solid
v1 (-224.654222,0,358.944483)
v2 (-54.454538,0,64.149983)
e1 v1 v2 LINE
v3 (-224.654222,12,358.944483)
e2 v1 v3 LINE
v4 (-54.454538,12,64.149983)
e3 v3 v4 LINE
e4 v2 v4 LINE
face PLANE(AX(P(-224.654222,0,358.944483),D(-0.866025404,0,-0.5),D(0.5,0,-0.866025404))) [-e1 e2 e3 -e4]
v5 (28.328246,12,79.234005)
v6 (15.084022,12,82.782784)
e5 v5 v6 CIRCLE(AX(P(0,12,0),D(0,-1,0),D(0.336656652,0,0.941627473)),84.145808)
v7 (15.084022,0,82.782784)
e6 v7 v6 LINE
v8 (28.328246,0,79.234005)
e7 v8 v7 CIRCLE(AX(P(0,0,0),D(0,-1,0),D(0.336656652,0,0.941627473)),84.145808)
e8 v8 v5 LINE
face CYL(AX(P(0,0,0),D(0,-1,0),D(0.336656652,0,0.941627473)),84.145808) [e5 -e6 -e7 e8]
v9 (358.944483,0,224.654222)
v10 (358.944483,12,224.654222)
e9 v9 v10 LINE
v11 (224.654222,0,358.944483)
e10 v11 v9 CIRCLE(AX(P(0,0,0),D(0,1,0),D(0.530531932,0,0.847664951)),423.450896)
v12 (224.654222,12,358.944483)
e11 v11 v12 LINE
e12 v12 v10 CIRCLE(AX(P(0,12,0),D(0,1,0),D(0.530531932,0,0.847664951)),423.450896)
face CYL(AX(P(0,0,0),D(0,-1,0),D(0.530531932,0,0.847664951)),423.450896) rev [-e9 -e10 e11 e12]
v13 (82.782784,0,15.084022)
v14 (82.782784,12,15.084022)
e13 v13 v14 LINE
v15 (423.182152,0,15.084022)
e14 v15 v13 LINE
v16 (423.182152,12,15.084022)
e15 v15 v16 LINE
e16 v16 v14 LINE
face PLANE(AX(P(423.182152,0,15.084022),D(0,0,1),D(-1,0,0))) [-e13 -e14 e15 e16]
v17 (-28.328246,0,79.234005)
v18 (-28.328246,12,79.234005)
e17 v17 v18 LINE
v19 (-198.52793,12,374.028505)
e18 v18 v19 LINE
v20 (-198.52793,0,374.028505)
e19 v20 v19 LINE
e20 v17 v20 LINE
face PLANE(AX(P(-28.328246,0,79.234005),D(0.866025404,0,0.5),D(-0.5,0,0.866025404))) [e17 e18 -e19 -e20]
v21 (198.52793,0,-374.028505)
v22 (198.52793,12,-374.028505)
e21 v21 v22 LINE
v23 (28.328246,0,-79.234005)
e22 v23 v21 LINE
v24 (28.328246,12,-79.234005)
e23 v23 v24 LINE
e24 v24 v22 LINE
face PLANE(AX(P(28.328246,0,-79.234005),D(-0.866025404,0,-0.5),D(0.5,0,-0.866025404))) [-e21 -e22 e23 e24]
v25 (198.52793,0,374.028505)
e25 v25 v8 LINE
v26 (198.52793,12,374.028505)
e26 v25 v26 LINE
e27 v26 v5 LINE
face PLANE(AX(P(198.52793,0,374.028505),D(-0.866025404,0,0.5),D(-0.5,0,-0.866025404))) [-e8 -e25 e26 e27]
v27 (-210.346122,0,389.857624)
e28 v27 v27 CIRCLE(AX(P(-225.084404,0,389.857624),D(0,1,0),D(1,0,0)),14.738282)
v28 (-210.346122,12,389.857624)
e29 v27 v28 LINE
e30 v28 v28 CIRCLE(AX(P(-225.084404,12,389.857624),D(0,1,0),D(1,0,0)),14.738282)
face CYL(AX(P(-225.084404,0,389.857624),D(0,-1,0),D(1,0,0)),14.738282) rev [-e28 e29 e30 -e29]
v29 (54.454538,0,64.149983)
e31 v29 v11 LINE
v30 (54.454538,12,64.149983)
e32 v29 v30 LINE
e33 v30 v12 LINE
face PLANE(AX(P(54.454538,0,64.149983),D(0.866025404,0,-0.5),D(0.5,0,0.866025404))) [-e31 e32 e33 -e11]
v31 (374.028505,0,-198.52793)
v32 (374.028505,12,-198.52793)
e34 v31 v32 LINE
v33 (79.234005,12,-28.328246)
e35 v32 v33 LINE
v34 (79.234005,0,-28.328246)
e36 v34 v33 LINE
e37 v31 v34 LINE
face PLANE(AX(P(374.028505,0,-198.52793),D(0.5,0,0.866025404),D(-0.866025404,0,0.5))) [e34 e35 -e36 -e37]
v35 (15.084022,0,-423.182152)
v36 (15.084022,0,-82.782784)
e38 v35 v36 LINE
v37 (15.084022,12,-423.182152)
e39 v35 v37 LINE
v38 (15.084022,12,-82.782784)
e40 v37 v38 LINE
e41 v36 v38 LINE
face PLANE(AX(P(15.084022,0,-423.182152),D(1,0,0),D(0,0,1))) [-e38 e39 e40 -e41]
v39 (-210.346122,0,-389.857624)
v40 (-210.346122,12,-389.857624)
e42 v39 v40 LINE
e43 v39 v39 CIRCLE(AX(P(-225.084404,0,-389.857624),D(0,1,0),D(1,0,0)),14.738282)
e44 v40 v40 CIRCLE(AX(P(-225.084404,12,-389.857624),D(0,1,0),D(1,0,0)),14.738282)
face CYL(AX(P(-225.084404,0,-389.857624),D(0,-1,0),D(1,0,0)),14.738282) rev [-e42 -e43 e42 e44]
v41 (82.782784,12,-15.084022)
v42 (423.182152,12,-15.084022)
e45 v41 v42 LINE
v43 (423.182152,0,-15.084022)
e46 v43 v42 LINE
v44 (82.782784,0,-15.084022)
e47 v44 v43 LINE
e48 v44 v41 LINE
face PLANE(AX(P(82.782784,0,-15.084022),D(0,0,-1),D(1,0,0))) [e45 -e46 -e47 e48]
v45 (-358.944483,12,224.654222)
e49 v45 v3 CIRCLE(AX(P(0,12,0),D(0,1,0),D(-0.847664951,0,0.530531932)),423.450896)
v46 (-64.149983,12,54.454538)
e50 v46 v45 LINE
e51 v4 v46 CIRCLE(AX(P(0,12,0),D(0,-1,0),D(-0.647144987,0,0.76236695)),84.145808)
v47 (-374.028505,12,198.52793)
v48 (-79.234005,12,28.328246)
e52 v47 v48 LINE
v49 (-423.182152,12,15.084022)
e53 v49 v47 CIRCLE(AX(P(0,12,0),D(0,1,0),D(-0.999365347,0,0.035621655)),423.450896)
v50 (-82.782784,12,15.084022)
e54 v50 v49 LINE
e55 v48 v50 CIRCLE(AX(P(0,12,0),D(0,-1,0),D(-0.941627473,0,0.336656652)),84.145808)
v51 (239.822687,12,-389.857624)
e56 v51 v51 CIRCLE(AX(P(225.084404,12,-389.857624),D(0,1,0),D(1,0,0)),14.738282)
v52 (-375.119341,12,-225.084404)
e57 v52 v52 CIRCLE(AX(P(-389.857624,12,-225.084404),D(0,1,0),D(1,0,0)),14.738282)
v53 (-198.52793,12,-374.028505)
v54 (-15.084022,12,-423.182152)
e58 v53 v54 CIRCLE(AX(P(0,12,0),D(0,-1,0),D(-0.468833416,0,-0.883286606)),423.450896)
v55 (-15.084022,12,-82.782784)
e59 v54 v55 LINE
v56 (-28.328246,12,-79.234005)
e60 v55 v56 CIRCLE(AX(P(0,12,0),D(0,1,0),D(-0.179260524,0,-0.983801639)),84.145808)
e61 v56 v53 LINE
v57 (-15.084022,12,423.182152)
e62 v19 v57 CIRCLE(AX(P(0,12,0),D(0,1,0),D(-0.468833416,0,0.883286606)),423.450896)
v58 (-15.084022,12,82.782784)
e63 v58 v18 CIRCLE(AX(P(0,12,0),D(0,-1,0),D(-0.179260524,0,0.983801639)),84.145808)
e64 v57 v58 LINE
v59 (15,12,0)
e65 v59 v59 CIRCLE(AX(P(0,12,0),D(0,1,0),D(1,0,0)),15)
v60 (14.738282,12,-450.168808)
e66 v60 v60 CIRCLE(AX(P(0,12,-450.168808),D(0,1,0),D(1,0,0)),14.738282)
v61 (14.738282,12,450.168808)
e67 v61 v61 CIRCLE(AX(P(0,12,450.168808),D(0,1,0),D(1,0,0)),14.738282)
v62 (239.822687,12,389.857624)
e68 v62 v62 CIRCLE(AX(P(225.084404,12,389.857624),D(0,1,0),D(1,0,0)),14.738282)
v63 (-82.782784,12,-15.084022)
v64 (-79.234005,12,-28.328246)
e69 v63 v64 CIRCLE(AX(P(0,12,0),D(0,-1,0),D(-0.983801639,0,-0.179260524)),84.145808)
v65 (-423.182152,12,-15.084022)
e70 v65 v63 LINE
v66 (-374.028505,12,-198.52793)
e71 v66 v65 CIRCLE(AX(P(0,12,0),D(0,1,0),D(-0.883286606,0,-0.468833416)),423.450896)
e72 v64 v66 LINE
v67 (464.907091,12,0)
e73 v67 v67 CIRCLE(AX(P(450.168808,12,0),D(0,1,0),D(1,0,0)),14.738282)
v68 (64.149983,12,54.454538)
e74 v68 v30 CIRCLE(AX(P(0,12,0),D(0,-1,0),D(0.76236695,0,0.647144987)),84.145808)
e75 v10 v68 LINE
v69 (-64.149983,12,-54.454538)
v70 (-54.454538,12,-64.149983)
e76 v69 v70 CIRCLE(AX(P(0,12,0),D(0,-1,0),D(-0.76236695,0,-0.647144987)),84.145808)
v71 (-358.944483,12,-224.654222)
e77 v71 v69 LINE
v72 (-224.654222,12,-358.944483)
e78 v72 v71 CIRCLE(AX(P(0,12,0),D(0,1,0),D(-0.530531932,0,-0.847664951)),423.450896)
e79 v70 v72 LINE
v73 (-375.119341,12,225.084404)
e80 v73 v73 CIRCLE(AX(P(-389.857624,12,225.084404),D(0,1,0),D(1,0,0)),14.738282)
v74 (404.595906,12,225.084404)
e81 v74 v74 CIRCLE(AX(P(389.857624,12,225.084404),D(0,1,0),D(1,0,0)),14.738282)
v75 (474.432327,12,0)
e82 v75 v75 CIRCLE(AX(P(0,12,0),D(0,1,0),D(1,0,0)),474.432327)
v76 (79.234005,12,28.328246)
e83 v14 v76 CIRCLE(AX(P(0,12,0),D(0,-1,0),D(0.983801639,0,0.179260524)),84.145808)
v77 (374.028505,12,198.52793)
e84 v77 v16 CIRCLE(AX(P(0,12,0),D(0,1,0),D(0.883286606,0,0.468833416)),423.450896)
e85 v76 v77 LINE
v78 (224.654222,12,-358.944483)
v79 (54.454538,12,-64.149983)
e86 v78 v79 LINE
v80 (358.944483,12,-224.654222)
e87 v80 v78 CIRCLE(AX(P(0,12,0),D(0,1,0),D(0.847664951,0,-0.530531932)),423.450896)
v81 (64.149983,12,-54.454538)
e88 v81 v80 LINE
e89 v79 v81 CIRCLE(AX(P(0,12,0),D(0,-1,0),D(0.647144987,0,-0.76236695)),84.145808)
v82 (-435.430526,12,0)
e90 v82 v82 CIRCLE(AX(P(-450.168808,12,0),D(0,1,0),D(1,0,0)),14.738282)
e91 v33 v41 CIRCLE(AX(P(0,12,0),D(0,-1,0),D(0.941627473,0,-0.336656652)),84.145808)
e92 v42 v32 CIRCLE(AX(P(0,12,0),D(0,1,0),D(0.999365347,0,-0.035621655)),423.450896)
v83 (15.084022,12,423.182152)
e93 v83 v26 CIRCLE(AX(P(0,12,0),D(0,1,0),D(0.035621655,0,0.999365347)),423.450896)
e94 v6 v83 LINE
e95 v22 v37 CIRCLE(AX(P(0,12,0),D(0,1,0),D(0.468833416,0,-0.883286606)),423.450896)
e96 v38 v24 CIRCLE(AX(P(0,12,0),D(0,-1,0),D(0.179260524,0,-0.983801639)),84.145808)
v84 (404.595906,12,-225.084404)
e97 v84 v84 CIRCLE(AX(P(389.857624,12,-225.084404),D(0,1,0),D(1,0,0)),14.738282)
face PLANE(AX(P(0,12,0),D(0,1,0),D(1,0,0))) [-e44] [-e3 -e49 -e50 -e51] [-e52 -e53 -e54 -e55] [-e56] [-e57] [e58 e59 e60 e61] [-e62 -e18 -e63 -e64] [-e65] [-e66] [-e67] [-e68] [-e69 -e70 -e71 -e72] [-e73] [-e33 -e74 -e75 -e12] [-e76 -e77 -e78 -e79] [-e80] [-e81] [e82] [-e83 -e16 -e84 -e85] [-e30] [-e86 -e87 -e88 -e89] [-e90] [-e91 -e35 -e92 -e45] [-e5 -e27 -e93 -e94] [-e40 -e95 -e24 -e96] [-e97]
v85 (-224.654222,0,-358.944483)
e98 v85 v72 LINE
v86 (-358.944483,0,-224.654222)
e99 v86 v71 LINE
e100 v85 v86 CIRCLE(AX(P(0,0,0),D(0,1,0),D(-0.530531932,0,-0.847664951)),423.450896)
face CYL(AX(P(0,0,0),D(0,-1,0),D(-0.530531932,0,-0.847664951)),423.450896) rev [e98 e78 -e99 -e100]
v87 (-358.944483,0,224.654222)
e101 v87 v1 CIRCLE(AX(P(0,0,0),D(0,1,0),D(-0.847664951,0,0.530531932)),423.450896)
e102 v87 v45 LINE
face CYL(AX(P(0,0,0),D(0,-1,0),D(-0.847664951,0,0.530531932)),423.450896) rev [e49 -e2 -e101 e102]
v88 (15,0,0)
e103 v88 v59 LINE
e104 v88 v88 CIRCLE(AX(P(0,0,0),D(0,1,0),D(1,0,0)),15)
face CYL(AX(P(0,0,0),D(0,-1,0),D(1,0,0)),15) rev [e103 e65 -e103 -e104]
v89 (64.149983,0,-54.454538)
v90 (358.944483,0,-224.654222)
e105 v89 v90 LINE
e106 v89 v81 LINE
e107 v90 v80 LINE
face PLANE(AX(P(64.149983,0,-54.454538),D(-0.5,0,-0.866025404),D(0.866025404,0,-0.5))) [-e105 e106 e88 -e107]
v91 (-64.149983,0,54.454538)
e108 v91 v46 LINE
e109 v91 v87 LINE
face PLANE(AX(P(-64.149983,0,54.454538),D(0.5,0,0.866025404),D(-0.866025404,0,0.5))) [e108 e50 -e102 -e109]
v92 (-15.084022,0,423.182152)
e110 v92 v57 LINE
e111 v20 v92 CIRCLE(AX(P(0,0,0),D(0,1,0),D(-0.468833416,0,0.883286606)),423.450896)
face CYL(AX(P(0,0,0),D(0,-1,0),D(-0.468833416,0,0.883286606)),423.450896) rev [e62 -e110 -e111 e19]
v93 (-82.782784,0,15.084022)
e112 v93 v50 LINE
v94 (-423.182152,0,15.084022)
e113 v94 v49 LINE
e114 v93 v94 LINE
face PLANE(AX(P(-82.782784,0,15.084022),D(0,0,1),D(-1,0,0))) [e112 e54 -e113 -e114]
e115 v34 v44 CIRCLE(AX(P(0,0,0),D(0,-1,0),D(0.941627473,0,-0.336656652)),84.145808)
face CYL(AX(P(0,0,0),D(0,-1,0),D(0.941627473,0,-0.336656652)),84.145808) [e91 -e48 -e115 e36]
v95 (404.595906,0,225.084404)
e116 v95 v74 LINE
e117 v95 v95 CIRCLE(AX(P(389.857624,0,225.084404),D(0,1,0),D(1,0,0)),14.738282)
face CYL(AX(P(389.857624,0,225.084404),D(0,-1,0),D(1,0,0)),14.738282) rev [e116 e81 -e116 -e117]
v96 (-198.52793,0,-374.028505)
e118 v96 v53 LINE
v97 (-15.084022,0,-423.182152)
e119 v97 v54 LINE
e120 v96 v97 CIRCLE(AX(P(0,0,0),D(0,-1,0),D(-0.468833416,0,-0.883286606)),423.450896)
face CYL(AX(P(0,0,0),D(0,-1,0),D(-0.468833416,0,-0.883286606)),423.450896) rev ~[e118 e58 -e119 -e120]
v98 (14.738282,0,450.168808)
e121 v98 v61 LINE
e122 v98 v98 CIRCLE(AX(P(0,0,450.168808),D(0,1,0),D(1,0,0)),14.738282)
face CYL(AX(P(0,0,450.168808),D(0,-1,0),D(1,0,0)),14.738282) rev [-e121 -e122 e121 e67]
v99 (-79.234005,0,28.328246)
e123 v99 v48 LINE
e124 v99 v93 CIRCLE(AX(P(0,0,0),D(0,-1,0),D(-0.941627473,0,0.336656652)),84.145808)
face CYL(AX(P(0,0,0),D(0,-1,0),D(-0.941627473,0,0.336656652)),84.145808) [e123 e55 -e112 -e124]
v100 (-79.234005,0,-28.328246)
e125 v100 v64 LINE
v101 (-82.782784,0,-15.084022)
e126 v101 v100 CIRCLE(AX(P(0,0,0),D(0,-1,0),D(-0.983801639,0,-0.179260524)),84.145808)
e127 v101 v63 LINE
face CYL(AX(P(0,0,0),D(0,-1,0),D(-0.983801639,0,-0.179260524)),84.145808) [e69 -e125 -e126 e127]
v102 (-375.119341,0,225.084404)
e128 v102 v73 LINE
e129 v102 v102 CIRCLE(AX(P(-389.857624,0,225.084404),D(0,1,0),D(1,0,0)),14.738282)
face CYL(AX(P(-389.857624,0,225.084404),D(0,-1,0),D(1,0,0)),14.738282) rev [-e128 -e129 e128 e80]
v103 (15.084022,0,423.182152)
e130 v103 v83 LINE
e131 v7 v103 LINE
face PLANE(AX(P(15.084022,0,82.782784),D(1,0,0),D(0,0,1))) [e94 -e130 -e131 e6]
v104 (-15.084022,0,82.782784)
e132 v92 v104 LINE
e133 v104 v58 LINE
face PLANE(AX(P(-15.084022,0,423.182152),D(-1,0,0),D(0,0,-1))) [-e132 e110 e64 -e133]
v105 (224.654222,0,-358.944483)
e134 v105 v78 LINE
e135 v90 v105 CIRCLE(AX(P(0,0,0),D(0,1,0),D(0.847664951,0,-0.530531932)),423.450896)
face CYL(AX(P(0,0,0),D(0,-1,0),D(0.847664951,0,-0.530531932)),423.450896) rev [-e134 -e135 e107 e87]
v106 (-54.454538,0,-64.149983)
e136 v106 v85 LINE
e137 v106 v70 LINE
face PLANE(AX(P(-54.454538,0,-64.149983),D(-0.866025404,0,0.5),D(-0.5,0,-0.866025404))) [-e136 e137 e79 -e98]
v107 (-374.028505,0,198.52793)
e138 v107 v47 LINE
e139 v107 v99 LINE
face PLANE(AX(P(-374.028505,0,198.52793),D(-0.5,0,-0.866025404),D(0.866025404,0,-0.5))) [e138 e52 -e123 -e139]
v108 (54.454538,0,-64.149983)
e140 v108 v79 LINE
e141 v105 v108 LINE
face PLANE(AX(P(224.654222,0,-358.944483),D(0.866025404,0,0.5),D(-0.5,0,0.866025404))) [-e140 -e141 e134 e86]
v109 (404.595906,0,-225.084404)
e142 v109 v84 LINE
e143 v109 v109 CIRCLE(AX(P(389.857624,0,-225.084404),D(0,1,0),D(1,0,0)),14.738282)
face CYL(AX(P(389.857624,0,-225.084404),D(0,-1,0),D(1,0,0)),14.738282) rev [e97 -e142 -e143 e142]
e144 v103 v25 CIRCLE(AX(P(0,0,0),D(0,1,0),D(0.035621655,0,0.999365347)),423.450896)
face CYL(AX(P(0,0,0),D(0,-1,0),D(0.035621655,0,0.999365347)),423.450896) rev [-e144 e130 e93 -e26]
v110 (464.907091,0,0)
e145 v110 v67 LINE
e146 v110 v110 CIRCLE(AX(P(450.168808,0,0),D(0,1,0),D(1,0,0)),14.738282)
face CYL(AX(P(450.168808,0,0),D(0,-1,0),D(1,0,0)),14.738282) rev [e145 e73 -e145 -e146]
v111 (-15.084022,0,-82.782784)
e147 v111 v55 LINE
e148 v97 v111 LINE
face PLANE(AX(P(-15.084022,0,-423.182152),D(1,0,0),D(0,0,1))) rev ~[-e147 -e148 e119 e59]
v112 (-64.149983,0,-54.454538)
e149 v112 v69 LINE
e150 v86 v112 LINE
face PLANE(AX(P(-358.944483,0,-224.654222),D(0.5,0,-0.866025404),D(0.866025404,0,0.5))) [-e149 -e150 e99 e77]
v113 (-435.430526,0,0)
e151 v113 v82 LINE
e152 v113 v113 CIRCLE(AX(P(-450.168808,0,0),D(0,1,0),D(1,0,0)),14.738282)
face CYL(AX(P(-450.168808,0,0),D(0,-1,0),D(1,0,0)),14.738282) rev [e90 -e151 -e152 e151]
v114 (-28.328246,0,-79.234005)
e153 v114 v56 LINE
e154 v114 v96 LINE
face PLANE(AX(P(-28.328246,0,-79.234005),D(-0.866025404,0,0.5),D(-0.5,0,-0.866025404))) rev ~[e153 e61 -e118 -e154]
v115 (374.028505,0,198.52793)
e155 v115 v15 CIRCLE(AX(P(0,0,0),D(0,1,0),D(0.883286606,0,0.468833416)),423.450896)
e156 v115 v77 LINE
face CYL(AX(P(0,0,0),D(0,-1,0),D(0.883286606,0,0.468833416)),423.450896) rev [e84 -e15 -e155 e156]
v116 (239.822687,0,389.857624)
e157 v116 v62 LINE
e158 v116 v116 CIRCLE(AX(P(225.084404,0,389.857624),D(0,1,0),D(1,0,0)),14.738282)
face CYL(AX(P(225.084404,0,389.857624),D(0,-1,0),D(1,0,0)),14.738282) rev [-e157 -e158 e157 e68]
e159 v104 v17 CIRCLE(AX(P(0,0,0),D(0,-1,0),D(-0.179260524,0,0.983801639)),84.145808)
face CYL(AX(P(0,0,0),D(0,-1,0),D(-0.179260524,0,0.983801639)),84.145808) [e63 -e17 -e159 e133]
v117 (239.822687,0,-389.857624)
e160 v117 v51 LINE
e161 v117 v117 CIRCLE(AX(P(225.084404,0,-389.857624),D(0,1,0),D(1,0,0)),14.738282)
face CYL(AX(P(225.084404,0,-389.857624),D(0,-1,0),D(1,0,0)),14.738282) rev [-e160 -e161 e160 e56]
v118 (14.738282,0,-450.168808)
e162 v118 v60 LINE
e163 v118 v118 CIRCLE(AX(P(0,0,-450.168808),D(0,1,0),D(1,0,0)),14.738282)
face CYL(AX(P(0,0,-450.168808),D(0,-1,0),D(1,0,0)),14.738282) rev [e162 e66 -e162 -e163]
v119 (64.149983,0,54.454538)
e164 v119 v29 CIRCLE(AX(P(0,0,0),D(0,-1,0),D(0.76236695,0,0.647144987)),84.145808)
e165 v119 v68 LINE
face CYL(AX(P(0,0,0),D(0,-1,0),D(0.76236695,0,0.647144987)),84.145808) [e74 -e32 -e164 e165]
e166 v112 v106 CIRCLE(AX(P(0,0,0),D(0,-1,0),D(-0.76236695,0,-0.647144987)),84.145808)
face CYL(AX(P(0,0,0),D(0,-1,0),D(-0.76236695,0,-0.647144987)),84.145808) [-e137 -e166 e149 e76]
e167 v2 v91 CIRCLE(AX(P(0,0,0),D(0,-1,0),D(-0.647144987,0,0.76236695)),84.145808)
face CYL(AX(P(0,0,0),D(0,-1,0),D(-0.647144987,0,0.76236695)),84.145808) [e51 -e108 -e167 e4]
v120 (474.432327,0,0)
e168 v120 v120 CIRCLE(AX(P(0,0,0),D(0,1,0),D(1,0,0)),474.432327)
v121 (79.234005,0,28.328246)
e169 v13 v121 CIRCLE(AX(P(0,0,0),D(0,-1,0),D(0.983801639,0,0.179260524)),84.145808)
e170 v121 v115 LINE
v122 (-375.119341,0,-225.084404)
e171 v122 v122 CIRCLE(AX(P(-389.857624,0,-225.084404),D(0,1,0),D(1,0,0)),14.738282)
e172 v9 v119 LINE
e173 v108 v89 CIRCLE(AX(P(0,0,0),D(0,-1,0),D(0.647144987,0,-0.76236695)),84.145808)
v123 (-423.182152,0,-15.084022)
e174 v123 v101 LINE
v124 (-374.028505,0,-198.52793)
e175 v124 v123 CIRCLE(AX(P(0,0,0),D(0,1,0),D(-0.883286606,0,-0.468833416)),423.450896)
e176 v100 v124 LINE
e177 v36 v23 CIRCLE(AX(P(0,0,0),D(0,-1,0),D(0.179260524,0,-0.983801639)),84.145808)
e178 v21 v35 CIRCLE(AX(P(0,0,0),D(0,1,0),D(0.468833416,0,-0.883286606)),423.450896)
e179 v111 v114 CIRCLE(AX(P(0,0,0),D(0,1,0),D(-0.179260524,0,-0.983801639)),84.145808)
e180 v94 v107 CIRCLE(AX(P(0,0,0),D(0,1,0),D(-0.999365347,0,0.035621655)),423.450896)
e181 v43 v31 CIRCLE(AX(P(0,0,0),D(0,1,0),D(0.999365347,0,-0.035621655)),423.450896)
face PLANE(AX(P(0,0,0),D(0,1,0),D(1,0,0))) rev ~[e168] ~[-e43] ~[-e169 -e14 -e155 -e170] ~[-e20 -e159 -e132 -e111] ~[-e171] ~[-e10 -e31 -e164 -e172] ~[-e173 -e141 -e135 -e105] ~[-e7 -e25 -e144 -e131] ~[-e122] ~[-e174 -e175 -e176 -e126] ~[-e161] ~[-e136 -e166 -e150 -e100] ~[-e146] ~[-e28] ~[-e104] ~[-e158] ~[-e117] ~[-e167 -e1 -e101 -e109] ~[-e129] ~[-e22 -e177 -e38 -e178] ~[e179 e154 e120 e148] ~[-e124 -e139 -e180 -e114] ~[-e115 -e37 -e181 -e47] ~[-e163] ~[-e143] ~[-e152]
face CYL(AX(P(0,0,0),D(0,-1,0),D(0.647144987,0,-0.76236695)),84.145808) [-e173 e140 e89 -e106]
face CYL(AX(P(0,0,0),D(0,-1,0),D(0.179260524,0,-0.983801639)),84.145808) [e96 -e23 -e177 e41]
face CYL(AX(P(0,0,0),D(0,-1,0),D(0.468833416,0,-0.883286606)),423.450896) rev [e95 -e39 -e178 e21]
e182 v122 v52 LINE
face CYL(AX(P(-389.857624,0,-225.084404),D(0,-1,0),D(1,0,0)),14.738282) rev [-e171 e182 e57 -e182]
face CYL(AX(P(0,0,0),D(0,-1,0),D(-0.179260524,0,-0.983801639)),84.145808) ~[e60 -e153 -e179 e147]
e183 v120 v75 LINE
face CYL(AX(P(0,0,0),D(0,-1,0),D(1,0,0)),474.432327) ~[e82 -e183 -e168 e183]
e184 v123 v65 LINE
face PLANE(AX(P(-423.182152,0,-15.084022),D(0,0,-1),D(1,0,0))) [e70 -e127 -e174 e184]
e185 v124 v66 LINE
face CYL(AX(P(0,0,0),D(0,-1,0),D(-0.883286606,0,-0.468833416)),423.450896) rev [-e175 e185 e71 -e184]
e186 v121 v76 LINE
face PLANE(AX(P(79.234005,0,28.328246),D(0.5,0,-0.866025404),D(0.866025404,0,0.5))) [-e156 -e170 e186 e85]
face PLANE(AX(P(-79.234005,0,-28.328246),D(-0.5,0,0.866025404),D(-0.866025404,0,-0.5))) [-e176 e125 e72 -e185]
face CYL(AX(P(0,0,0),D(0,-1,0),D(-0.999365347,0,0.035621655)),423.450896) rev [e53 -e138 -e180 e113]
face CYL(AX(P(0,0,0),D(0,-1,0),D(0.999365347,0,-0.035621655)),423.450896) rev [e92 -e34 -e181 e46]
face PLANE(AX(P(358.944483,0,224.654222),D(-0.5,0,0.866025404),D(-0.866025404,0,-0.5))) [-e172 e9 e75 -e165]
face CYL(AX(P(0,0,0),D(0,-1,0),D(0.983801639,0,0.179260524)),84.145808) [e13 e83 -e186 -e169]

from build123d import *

# Parameters (mm, degrees)
SKETCH1_R            = 474.432327188
SKETCH1_R_2          = 15
SKETCH1_R_3          = 14.738282491
BOSS_EXTRUDE15_DEPTH = 12


with BuildPart() as part:
    # Sketch1 → Boss-Extrude15 (new body)
    with BuildSketch(Plane(origin=(0, 0, 0), x_dir=(1, 0, 0), z_dir=(0, 1, 0))):
        Circle(SKETCH1_R)
        Circle(SKETCH1_R_2, mode=Mode.SUBTRACT)
        with Locations((0, 450.168808025)):
            Circle(SKETCH1_R_3, mode=Mode.SUBTRACT)
        with Locations((225.084404013, 389.857623741)):
            Circle(SKETCH1_R_3, mode=Mode.SUBTRACT)
        with Locations((389.857623741, 225.084404013)):
            Circle(SKETCH1_R_3, mode=Mode.SUBTRACT)
        with Locations((450.168808025, 0)):
            Circle(SKETCH1_R_3, mode=Mode.SUBTRACT)
        with Locations((389.857623741, -225.084404013)):
            Circle(SKETCH1_R_3, mode=Mode.SUBTRACT)
        with Locations((225.084404013, -389.857623741)):
            Circle(SKETCH1_R_3, mode=Mode.SUBTRACT)
        with Locations((0, -450.168808025)):
            Circle(SKETCH1_R_3, mode=Mode.SUBTRACT)
        with Locations((-225.084404012, -389.857623741)):
            Circle(SKETCH1_R_3, mode=Mode.SUBTRACT)
        with Locations((-389.857623741, -225.084404013)):
            Circle(SKETCH1_R_3, mode=Mode.SUBTRACT)
        with Locations((-450.168808025, 0)):
            Circle(SKETCH1_R_3, mode=Mode.SUBTRACT)
        with Locations((-389.857623741, 225.084404013)):
            Circle(SKETCH1_R_3, mode=Mode.SUBTRACT)
        with Locations((-225.084404013, 389.857623741)):
            Circle(SKETCH1_R_3, mode=Mode.SUBTRACT)
        with BuildLine():
            Line((15.084021598, 423.182152072), (15.084021598, 82.782783758))
            ThreePointArc((15.084021598, 82.782783758), (21.778537661, 81.278609065), (28.328245984, 79.234004529))
            Line((28.328245984, 79.234004529), (198.527930141, 374.028504921))
            ThreePointArc((198.527930141, 374.028504921), (109.597156617, 409.022156859), (15.084021598, 423.182152072))
        make_face(mode=Mode.SUBTRACT)
        with BuildLine():
            Line((-15.084021598, 423.182152072), (-15.084021598, 82.782783758))
            ThreePointArc((-15.084021598, 82.782783758), (-21.778537661, 81.278609065), (-28.328245984, 79.234004529))
            Line((-28.328245984, 79.234004529), (-198.527930141, 374.028504921))
            ThreePointArc((-198.527930141, 374.028504921), (-109.597156617, 409.022156859), (-15.084021598, 423.182152072))
        make_face(mode=Mode.SUBTRACT)
        with BuildLine():
            Line((224.654221931, 358.944483323), (54.454537774, 64.149982931))
            ThreePointArc((54.454537774, 64.149982931), (59.500071404, 59.500071404), (64.149982931, 54.454537774))
            Line((64.149982931, 54.454537774), (358.944483323, 224.654221931))
            ThreePointArc((358.944483323, 224.654221931), (299.425000242, 299.425000242), (224.654221931, 358.944483323))
        make_face(mode=Mode.SUBTRACT)
        with BuildLine():
            Line((374.028504921, 198.527930141), (79.234004529, 28.328245984))
            ThreePointArc((79.234004529, 28.328245984), (81.278609065, 21.778537661), (82.782783758, 15.084021598))
            Line((82.782783758, 15.084021598), (423.182152072, 15.084021598))
            ThreePointArc((423.182152072, 15.084021598), (409.022156859, 109.597156617), (374.028504921, 198.527930141))
        make_face(mode=Mode.SUBTRACT)
        with BuildLine():
            Line((423.182152072, -15.084021598), (82.782783758, -15.084021598))
            ThreePointArc((82.782783758, -15.084021598), (81.278609065, -21.778537661), (79.234004529, -28.328245984))
            Line((79.234004529, -28.328245984), (374.028504921, -198.527930141))
            ThreePointArc((374.028504921, -198.527930141), (409.022156859, -109.597156617), (423.182152072, -15.084021598))
        make_face(mode=Mode.SUBTRACT)
        with BuildLine():
            Line((358.944483323, -224.654221931), (64.149982931, -54.454537774))
            ThreePointArc((64.149982931, -54.454537774), (59.500071404, -59.500071404), (54.454537774, -64.149982931))
            Line((54.454537774, -64.149982931), (224.654221931, -358.944483323))
            ThreePointArc((224.654221931, -358.944483323), (299.425000242, -299.425000242), (358.944483323, -224.654221931))
        make_face(mode=Mode.SUBTRACT)
        with BuildLine():
            Line((198.527930141, -374.028504921), (28.328245984, -79.234004529))
            ThreePointArc((28.328245984, -79.234004529), (21.778537661, -81.278609065), (15.084021598, -82.782783758))
            Line((15.084021598, -82.782783758), (15.084021598, -423.182152072))
            ThreePointArc((15.084021598, -423.182152072), (109.597156617, -409.022156859), (198.527930141, -374.028504921))
        make_face(mode=Mode.SUBTRACT)
        with BuildLine():
            Line((-15.084021598, -423.182152072), (-15.084021598, -82.782783758))
            ThreePointArc((-15.084021598, -82.782783758), (-21.778537661, -81.278609065), (-28.328245984, -79.234004529))
            Line((-28.328245984, -79.234004529), (-198.527930141, -374.028504921))
            ThreePointArc((-198.527930141, -374.028504921), (-109.597156617, -409.022156859), (-15.084021598, -423.182152072))
        make_face(mode=Mode.SUBTRACT)
        with BuildLine():
            Line((-224.654221931, -358.944483323), (-54.454537774, -64.149982931))
            ThreePointArc((-54.454537774, -64.149982931), (-59.500071404, -59.500071404), (-64.149982931, -54.454537774))
            Line((-64.149982931, -54.454537774), (-358.944483323, -224.654221931))
            ThreePointArc((-358.944483323, -224.654221931), (-299.425000242, -299.425000242), (-224.654221931, -358.944483323))
        make_face(mode=Mode.SUBTRACT)
        with BuildLine():
            Line((-374.028504921, -198.527930141), (-79.234004529, -28.328245984))
            ThreePointArc((-79.234004529, -28.328245984), (-81.278609065, -21.778537661), (-82.782783758, -15.084021598))
            Line((-82.782783758, -15.084021598), (-423.182152072, -15.084021598))
            ThreePointArc((-423.182152072, -15.084021598), (-409.022156859, -109.597156617), (-374.028504921, -198.527930141))
        make_face(mode=Mode.SUBTRACT)
        with BuildLine():
            Line((-423.182152072, 15.084021598), (-82.782783758, 15.084021598))
            ThreePointArc((-82.782783758, 15.084021598), (-81.278609065, 21.778537661), (-79.234004529, 28.328245984))
            Line((-79.234004529, 28.328245984), (-374.028504921, 198.527930141))
            ThreePointArc((-374.028504921, 198.527930141), (-409.022156859, 109.597156617), (-423.182152072, 15.084021598))
        make_face(mode=Mode.SUBTRACT)
        with BuildLine():
            Line((-358.944483323, 224.654221931), (-64.149982931, 54.454537774))
            ThreePointArc((-64.149982931, 54.454537774), (-59.500071404, 59.500071404), (-54.454537774, 64.149982931))
            Line((-54.454537774, 64.149982931), (-224.654221931, 358.944483323))
            ThreePointArc((-224.654221931, 358.944483323), (-299.425000242, 299.425000242), (-358.944483323, 224.654221931))
        make_face(mode=Mode.SUBTRACT)
    extrude(amount=BOSS_EXTRUDE15_DEPTH)


solid = part.part
